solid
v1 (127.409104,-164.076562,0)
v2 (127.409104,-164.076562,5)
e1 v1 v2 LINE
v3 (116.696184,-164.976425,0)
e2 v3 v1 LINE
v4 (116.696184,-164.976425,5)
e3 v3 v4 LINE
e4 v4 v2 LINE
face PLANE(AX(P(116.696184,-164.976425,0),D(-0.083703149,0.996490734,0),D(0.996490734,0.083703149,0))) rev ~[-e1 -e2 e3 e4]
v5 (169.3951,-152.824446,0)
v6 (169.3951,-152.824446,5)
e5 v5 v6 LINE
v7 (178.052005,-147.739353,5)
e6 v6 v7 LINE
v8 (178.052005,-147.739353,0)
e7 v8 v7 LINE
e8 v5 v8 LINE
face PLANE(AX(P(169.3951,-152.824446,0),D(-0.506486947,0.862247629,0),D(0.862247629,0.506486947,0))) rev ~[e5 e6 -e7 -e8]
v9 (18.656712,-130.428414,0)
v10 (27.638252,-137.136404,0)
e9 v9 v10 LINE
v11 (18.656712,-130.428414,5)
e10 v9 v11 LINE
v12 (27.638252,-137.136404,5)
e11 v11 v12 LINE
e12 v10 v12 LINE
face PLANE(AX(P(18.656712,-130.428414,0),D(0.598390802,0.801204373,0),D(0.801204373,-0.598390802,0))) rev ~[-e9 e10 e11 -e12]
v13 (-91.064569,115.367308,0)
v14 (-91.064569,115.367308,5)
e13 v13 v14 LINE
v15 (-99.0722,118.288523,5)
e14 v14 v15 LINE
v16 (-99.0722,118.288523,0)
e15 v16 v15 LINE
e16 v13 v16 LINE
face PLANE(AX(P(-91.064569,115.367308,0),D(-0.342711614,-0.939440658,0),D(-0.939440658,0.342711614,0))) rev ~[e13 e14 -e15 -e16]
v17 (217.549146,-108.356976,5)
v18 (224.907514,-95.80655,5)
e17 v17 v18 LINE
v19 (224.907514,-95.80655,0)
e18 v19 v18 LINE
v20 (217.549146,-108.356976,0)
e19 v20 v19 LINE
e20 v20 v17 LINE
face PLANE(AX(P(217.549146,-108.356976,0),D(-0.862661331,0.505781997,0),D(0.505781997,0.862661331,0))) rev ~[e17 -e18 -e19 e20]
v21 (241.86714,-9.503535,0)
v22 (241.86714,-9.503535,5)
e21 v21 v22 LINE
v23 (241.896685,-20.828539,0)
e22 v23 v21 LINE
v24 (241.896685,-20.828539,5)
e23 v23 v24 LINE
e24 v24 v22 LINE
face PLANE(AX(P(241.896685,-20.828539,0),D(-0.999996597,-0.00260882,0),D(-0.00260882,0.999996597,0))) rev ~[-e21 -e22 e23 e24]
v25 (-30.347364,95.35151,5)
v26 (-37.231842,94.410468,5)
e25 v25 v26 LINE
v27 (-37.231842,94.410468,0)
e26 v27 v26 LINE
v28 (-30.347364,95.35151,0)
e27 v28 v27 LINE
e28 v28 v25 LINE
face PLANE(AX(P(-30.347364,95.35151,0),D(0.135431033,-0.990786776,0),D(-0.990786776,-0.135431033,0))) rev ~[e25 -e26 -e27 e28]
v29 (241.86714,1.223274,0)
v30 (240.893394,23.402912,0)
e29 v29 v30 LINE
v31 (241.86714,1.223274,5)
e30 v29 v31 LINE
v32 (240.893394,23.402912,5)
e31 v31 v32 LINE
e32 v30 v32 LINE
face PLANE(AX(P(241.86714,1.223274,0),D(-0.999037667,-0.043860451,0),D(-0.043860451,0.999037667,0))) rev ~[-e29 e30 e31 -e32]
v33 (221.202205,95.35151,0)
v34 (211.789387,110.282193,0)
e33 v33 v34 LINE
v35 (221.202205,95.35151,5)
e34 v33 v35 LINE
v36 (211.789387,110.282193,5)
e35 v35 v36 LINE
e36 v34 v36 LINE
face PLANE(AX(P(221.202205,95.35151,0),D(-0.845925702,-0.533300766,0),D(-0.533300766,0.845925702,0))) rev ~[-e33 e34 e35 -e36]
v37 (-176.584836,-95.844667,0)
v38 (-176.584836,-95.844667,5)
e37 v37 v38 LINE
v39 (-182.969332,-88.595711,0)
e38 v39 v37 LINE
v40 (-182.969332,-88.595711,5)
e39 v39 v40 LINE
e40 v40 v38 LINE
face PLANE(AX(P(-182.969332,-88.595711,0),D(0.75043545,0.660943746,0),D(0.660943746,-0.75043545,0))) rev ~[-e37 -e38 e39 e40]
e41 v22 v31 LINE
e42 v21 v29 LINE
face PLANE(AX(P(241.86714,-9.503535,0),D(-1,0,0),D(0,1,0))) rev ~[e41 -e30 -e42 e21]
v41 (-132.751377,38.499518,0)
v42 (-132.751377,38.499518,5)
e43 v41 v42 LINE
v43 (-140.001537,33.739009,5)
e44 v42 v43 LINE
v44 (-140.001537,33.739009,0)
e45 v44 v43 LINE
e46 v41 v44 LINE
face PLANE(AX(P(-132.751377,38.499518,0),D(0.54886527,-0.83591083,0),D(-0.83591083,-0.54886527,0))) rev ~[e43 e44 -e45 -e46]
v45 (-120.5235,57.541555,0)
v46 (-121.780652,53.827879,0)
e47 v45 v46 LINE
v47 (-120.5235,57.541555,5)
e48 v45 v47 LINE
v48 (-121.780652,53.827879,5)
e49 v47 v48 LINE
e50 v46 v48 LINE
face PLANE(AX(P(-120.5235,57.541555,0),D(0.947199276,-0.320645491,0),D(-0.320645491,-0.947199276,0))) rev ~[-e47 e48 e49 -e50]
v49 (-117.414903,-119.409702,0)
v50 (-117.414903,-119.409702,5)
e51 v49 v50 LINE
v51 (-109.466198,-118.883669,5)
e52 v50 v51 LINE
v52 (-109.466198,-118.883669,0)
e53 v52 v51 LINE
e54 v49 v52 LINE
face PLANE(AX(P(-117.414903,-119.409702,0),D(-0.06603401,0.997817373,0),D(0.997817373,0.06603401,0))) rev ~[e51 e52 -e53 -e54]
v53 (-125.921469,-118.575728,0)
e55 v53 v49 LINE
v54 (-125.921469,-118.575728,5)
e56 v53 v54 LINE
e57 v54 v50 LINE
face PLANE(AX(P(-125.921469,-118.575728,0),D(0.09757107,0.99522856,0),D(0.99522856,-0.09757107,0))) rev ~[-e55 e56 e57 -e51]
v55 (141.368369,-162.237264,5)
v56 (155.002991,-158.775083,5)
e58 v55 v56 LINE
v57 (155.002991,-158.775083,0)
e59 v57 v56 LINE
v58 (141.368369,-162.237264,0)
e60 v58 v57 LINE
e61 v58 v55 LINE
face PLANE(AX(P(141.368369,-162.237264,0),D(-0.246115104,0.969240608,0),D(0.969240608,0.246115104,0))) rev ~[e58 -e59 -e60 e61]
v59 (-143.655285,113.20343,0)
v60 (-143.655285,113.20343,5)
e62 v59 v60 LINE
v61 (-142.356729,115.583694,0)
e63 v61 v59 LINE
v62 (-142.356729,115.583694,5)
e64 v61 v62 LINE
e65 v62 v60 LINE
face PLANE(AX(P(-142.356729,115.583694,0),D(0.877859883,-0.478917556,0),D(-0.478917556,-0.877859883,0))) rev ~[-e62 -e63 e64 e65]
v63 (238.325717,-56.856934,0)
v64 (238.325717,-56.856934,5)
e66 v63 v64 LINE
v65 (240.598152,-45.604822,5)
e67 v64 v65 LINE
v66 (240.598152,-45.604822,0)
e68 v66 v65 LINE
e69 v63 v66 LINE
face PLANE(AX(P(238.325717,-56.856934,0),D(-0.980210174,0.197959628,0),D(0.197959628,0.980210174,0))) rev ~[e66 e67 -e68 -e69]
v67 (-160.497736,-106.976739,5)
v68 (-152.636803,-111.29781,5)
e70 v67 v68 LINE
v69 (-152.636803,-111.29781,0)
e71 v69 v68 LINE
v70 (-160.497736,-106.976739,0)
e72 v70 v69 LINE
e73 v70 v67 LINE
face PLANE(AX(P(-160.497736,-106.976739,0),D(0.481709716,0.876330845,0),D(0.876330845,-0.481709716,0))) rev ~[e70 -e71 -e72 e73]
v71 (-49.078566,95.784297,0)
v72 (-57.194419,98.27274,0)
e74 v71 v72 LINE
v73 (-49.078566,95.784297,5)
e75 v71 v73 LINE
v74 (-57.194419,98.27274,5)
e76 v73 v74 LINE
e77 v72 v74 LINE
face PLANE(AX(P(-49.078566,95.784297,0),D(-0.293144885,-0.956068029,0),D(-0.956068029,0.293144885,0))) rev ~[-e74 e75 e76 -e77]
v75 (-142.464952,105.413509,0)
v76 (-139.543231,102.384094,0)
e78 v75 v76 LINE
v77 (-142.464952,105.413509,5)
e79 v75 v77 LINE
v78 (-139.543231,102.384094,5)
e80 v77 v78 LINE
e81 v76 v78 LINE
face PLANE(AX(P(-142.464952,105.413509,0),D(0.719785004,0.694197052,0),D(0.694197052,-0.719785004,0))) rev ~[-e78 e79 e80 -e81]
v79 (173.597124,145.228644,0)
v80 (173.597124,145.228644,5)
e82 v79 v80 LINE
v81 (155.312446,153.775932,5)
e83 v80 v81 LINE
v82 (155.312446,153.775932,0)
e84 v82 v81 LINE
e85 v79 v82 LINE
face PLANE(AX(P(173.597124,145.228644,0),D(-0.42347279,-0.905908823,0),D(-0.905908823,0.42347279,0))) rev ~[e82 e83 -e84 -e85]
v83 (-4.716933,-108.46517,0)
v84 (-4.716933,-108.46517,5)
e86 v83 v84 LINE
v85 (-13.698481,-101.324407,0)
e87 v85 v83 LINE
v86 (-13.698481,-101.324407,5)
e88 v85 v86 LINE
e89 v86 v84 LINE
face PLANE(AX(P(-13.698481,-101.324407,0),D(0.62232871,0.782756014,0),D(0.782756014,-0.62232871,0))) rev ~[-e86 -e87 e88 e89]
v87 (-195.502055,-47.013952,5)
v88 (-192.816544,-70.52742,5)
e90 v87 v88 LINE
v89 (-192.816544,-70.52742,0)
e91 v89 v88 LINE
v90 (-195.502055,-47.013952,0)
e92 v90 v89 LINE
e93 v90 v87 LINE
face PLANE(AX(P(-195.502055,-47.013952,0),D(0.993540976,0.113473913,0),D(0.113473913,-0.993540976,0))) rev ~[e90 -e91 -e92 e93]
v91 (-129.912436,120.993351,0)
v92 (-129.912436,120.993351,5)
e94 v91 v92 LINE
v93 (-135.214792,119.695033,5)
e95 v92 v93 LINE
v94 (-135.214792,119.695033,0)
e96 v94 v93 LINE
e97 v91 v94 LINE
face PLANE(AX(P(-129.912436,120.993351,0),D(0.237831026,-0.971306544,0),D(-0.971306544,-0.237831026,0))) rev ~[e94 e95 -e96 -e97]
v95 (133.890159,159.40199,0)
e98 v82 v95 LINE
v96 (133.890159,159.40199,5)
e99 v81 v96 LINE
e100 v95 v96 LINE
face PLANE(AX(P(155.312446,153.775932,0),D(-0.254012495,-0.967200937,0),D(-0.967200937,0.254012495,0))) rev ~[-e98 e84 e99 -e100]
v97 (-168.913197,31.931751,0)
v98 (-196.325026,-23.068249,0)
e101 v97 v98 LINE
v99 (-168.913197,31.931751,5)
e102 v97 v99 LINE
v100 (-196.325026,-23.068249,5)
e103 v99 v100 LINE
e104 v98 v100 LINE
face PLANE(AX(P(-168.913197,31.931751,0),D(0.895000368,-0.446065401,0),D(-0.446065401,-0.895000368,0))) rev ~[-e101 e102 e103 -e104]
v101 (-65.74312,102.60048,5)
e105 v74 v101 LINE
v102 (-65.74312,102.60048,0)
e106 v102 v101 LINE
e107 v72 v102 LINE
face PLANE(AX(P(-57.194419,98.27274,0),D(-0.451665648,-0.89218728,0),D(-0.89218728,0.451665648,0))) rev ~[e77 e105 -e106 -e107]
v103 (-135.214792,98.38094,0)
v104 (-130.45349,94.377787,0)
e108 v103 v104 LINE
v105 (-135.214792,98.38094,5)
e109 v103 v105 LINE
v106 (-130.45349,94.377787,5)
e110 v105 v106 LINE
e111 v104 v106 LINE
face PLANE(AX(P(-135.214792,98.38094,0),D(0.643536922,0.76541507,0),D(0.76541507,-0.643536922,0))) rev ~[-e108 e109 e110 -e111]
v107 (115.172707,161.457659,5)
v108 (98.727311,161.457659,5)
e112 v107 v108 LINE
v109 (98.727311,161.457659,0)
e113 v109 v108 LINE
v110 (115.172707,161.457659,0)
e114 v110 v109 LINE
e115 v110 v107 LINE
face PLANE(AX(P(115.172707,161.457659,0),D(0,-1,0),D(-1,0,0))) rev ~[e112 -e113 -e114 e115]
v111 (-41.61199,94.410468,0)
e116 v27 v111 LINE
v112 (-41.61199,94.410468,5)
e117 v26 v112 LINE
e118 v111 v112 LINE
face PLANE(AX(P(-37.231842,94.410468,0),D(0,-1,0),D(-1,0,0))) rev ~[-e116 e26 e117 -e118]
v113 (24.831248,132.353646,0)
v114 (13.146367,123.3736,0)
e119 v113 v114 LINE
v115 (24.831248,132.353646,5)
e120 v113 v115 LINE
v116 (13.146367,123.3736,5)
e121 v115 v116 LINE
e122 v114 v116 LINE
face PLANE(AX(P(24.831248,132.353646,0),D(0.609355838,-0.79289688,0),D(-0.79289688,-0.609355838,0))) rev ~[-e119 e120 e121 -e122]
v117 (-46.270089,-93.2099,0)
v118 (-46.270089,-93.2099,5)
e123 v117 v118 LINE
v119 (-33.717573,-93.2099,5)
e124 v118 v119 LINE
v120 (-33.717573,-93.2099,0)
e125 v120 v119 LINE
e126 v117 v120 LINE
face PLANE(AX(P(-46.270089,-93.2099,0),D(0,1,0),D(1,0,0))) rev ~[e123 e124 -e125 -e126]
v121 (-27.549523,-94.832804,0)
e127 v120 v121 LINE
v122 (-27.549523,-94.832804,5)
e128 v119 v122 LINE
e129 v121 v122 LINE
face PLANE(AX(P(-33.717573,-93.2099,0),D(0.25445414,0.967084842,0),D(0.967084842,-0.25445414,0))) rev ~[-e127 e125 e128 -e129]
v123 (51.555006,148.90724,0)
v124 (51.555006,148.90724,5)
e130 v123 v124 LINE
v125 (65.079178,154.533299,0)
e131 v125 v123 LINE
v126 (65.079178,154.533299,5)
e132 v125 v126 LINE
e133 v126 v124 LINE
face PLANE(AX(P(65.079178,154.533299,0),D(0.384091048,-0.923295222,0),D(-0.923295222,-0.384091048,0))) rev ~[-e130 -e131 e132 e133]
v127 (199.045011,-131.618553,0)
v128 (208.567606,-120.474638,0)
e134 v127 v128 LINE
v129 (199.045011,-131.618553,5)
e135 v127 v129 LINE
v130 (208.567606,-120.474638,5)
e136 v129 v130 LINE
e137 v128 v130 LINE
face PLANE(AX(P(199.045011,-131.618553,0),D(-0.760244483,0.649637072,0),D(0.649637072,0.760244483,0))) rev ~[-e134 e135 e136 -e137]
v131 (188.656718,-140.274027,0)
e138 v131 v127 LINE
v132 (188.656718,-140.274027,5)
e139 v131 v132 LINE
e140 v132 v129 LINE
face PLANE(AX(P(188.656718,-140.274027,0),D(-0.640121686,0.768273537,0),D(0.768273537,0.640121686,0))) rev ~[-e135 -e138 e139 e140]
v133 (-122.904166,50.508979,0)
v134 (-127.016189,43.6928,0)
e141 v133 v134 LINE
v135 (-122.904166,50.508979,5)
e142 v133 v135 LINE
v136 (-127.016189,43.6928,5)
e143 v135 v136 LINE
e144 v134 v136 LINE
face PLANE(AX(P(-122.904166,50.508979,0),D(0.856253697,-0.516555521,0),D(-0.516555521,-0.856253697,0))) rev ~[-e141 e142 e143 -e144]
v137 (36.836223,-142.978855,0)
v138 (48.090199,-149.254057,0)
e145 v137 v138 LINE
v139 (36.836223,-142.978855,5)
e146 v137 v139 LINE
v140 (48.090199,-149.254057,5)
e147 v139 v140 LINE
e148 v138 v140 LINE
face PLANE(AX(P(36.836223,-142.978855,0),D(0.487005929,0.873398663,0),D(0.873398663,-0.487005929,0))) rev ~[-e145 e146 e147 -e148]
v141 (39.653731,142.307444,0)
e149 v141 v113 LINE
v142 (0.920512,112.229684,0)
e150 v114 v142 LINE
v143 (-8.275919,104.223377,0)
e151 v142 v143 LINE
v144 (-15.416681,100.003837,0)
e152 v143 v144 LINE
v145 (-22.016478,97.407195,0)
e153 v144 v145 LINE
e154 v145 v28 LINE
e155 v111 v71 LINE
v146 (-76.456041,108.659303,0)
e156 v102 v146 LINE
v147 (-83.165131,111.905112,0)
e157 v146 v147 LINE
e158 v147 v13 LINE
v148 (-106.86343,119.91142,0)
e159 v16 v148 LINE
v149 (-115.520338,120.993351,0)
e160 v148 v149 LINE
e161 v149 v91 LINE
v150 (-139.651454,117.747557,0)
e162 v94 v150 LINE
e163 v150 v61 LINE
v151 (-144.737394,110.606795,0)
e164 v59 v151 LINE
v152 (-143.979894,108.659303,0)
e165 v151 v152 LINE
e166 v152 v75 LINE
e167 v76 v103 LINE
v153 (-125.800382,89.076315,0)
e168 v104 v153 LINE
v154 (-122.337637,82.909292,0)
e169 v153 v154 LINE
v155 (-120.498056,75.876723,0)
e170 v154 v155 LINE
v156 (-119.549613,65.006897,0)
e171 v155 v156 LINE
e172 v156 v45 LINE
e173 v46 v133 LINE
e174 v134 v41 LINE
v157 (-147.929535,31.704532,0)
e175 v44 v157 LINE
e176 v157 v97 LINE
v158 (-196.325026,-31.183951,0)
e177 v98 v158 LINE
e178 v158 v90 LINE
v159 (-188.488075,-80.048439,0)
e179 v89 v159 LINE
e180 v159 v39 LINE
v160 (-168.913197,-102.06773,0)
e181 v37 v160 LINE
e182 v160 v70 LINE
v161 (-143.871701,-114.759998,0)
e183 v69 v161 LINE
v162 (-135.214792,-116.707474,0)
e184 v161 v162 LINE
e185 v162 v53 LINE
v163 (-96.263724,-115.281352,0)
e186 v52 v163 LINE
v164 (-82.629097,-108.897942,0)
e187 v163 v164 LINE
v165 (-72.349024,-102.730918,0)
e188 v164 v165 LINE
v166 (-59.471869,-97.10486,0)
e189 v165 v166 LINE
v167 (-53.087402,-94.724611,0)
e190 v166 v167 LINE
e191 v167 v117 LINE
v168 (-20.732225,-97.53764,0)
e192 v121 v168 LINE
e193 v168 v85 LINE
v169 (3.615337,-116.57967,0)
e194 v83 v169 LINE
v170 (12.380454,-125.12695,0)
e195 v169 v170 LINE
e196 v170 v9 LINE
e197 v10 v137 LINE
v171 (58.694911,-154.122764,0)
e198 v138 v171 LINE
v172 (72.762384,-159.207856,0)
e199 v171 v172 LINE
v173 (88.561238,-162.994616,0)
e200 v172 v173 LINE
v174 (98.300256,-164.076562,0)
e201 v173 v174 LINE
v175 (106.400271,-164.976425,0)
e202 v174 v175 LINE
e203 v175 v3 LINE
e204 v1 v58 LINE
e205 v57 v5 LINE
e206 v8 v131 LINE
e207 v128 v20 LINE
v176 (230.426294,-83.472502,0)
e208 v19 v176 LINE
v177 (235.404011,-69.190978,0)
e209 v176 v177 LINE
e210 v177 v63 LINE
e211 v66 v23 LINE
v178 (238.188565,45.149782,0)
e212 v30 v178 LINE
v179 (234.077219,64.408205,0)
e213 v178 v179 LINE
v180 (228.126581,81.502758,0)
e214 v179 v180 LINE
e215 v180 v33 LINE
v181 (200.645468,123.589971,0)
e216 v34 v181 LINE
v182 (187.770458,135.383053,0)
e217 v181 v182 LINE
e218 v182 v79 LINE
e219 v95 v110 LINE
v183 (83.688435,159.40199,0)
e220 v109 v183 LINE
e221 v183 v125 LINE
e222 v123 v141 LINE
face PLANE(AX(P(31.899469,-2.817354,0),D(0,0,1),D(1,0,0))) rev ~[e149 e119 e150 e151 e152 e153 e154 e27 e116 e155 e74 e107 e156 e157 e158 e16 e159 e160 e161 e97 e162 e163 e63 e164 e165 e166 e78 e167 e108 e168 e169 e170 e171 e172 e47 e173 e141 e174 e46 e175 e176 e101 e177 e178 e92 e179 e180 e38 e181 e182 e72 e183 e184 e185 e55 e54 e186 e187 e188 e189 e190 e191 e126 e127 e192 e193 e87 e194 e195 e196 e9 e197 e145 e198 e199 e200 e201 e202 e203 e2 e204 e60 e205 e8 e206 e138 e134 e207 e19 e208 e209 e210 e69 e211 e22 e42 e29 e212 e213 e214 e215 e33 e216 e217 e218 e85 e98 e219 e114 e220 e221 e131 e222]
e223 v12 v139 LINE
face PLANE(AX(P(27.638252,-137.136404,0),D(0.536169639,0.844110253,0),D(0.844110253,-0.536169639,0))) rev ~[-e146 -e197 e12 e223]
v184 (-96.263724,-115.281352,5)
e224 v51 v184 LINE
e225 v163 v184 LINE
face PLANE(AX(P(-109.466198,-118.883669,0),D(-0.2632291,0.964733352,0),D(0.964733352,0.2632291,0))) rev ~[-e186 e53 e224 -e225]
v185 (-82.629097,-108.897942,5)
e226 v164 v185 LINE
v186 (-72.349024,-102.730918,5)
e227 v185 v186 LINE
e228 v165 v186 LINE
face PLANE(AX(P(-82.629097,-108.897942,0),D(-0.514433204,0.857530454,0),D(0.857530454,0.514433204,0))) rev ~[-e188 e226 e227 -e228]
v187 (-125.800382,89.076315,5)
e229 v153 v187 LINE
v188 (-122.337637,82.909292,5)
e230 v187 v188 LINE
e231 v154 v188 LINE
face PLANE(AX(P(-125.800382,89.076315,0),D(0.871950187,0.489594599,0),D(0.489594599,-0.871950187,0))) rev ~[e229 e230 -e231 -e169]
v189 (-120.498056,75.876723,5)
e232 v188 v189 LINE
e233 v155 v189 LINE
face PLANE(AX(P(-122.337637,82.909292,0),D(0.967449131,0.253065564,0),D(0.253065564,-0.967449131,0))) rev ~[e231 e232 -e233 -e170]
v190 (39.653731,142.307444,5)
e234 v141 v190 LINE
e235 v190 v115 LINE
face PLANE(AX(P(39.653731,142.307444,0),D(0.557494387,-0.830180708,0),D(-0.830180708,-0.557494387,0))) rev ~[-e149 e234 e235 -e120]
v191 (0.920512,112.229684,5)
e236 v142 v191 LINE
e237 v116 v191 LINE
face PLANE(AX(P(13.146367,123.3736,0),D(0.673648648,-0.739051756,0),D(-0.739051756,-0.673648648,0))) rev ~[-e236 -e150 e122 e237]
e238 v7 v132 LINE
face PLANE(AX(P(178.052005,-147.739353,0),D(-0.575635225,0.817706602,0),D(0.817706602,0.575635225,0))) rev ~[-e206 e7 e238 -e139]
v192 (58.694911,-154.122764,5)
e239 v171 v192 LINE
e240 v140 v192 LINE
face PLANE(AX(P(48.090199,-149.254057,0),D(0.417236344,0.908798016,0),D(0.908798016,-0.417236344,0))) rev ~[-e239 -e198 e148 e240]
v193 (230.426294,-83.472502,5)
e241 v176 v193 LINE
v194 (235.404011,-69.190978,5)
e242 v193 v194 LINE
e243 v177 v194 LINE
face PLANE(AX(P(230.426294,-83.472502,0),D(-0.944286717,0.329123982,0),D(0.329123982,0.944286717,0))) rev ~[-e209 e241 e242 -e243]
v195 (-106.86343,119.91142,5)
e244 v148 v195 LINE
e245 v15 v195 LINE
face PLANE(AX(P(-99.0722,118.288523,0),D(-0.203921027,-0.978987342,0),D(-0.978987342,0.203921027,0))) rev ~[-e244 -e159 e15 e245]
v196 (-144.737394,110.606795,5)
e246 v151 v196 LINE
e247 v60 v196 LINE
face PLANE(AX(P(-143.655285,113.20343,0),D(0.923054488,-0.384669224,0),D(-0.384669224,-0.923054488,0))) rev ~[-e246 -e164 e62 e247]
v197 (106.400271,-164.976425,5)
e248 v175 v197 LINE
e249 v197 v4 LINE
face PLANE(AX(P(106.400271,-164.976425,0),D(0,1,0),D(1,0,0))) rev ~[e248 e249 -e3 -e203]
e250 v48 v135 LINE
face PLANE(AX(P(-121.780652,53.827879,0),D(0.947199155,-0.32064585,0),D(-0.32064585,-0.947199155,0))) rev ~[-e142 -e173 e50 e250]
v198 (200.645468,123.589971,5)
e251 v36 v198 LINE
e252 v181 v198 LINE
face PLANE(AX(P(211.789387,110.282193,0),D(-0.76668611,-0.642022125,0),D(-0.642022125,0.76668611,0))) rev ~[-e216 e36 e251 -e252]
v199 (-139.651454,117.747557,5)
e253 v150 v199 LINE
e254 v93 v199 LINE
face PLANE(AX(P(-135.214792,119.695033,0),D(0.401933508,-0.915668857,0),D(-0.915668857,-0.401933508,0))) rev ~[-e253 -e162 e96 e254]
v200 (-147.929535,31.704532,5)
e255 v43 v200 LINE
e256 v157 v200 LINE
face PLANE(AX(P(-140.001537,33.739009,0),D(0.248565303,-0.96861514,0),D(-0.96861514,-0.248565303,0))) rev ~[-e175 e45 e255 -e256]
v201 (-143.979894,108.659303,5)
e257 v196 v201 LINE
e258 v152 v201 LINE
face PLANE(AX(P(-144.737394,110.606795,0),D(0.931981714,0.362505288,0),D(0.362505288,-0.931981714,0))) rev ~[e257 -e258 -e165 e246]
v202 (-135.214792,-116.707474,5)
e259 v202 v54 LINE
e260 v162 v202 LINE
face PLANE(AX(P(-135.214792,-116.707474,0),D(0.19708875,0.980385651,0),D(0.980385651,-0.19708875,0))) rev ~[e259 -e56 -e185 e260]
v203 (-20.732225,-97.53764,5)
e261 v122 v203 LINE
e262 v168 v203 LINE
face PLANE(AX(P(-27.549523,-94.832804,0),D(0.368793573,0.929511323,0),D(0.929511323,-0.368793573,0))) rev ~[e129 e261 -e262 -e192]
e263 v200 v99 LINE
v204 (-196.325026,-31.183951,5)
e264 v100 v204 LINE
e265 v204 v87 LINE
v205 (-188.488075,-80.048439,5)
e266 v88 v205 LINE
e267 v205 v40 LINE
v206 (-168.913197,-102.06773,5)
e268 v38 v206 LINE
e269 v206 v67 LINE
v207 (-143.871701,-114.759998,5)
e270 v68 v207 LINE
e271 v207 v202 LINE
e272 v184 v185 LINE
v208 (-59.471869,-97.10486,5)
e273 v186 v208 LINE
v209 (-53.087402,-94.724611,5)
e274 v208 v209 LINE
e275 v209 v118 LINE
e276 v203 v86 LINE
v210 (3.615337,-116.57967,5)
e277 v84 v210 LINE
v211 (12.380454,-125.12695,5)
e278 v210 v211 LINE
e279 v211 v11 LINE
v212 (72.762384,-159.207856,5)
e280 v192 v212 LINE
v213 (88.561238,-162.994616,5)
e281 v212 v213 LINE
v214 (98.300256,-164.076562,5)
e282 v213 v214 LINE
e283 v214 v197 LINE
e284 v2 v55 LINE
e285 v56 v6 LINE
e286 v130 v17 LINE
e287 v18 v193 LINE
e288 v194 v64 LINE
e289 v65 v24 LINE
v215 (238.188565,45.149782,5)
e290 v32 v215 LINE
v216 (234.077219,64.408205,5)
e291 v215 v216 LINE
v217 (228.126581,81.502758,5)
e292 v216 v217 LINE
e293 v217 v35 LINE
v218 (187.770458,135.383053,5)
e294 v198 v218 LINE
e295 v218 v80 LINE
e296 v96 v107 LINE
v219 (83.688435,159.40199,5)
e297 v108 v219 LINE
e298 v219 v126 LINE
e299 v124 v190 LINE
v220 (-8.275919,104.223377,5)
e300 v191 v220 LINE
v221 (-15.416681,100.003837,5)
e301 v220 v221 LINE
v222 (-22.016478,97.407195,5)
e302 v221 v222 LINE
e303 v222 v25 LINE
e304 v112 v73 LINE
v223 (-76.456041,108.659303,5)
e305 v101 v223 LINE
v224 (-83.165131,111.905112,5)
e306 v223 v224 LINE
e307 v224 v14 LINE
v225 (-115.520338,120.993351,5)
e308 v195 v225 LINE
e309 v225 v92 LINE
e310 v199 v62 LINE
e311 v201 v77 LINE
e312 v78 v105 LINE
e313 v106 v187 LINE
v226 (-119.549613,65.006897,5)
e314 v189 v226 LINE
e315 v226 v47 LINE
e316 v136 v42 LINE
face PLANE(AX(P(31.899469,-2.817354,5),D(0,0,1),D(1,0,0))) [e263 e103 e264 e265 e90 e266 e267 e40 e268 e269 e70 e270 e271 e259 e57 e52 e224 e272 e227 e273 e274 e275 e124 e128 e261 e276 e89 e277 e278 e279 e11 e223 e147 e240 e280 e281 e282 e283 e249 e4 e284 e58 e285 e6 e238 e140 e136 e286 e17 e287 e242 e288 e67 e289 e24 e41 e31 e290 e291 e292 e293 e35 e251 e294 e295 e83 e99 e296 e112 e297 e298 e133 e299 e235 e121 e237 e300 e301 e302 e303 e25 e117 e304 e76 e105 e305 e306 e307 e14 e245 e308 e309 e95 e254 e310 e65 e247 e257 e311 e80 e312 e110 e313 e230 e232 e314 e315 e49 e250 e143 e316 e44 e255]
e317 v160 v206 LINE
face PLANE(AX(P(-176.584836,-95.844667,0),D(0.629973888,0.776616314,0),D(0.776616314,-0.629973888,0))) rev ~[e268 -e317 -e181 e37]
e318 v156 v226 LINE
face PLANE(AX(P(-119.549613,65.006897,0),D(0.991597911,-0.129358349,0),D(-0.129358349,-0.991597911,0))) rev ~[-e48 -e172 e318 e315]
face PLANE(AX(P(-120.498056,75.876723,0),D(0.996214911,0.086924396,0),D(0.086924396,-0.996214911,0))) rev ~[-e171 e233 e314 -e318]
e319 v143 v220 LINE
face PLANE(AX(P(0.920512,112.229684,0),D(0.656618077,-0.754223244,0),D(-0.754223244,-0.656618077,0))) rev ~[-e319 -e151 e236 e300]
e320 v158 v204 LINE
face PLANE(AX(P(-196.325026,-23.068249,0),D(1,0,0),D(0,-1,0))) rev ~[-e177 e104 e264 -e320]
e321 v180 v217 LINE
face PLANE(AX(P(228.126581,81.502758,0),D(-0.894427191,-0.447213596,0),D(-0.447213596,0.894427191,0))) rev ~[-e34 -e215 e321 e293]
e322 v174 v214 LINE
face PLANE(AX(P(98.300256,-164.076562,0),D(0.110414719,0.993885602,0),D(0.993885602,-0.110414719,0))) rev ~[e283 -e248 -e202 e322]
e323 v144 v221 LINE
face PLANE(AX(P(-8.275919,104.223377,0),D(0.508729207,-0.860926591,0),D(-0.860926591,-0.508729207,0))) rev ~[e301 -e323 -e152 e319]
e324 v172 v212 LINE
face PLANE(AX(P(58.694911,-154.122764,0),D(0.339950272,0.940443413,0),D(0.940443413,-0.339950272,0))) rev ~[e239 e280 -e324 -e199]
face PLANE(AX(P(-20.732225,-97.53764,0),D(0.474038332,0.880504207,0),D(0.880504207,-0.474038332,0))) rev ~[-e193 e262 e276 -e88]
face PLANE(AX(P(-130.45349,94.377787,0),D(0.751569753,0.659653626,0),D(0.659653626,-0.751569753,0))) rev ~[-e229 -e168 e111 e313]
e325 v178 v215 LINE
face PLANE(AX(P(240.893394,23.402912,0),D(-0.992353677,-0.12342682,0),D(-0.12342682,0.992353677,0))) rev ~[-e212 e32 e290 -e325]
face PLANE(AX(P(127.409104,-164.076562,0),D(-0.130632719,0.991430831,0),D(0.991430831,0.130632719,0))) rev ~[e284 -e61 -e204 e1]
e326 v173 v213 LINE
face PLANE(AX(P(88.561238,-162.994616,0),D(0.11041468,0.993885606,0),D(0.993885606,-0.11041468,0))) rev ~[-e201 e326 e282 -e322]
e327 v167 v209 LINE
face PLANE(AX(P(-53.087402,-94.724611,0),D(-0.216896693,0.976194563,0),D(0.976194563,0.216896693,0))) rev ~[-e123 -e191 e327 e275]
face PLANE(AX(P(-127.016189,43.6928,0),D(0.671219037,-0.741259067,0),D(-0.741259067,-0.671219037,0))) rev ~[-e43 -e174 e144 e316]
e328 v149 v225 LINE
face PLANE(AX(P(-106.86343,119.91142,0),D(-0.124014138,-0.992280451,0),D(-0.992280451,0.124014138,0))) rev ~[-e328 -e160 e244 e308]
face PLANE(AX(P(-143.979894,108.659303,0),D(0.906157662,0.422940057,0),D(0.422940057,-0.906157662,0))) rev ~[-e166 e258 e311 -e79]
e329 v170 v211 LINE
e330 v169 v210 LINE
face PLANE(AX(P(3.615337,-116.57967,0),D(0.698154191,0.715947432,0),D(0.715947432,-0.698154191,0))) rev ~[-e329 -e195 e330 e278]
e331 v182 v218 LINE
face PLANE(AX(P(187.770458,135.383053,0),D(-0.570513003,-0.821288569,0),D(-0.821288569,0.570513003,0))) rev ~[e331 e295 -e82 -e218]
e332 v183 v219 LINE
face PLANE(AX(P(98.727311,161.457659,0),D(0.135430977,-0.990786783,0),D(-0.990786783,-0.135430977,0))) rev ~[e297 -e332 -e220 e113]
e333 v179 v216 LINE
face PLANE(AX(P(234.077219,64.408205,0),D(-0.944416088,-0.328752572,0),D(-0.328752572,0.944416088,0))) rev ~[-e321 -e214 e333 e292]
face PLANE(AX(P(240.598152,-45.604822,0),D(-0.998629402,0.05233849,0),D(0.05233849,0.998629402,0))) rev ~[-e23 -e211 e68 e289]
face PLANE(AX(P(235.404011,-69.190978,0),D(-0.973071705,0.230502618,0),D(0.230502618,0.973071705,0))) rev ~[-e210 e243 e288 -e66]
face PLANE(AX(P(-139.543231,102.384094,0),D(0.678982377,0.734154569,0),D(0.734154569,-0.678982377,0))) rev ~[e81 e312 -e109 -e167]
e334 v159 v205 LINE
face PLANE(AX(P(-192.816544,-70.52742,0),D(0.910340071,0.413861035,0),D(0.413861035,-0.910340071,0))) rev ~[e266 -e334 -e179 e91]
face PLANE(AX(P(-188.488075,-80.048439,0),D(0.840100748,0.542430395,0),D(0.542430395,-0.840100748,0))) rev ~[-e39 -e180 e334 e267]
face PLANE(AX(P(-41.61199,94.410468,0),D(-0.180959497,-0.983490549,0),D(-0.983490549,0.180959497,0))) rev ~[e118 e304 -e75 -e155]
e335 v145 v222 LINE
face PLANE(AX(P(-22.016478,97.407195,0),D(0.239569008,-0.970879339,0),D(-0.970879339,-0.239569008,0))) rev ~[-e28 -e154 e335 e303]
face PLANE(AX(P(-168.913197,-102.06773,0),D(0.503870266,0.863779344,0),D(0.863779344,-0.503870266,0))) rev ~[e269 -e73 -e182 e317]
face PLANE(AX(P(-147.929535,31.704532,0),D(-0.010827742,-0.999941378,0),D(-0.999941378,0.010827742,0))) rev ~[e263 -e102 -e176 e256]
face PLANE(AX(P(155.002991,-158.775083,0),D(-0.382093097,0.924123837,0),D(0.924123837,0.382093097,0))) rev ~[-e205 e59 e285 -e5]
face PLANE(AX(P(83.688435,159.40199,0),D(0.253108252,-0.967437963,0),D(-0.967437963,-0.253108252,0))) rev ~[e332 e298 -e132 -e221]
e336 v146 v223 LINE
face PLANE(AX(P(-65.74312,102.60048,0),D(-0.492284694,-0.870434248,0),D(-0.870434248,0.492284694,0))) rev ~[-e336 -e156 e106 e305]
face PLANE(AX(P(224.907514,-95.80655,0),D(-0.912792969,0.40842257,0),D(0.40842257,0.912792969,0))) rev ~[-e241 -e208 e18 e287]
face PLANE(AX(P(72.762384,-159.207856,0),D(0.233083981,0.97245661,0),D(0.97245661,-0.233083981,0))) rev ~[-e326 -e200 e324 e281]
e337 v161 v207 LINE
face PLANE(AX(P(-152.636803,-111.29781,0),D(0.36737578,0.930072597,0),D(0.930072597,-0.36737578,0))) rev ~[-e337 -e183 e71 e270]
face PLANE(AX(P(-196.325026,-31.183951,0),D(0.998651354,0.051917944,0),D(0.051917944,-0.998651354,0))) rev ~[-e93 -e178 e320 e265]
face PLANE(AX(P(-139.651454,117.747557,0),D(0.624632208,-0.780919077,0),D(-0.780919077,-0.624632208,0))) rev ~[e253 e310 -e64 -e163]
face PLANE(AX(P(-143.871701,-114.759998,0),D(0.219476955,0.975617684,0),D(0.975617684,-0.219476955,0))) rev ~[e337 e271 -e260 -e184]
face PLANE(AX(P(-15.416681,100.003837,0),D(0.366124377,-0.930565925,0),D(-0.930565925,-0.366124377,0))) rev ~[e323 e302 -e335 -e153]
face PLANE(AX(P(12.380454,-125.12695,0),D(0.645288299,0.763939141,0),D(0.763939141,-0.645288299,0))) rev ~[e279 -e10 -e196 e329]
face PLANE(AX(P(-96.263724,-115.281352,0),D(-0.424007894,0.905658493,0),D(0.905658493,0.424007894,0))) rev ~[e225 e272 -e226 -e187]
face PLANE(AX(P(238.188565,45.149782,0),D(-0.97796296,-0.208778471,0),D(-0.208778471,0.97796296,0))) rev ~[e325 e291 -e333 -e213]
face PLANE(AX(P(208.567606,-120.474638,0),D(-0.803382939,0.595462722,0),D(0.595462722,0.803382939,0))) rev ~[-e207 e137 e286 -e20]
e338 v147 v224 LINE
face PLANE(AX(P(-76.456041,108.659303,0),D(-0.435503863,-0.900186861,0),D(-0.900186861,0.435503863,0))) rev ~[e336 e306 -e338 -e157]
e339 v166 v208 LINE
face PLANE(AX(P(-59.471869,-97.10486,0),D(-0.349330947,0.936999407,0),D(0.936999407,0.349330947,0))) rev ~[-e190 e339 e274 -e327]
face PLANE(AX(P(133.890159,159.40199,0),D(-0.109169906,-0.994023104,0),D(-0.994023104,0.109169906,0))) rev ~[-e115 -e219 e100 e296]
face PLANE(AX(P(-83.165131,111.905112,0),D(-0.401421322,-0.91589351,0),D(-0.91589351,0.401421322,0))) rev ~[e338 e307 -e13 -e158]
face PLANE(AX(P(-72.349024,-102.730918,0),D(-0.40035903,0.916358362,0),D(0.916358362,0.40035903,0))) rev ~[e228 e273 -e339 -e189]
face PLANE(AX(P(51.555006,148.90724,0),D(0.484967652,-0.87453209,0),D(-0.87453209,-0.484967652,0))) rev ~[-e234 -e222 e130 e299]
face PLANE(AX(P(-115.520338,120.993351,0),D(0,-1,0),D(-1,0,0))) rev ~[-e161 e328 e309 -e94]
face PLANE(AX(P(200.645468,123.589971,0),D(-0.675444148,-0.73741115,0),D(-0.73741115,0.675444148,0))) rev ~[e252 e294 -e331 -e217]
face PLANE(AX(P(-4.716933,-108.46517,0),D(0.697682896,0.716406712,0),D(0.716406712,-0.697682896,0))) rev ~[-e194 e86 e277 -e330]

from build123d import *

# Parameters (mm, degrees)
F0_W     = 37
F0_H     = 69
F1_DEPTH = 5


with BuildPart() as f1:
    # F0 (on Top) → F1 (new body)
    with BuildSketch(Plane.XY):
        Polygon((109.757393, -47.013952), (-190.469548, -47.013952), (-187.938355, -69.176264), (-184.088363, -77.644812), (-178.970914, -85.570573), (-173.10958, -92.22553), (-166.061834, -97.942505), (-158.033386, -102.625757), (-150.505585, -106.763709), (-142.395731, -109.967075), (-134.17314, -111.816847), (-125.182951, -113.624161), (-117.335529, -114.393513), (-110.297666, -113.927758), (-97.994511, -110.570822), (-84.98137, -104.478377), (-74.645462, -98.277857), (-61.347514, -92.467954), (-54.509754, -89.918709), (-46.818863, -88.209901), (-39.777415, -88.209901), (-33.070793, -88.209901), (-25.985741, -90.074082), (-18.618021, -92.997303), (-10.935776, -97.133205), (-1.40856, -104.7078), (7.10493, -112.998784), (15.743346, -121.422512), (21.768701, -126.512042), (30.47871, -133.017234), (39.396258, -138.681565), (50.354269, -144.791737), (60.591184, -149.491585), (74.199441, -154.41068), (89.423326, -158.059629), (98.85233, -159.107134), (106.677154, -159.976425), (116.486558, -159.976425), (126.872966, -159.103989), (140.423232, -157.318581), (153.42437, -154.017258), (167.162878, -148.336862), (175.342116, -143.532352), (185.6123, -136.302521), (195.518968, -128.048335), (204.653845, -117.358152), (213.371967, -105.595887), (220.455531, -93.514166), (225.775129, -81.625274), (230.597933, -67.78821), (233.441157, -55.785481), (235.624263, -44.975688), (236.896344, -20.704121), (236.86714, -9.510057), (236.86714, 1.11357), (235.906968, 22.984027), (233.25353, 44.31771), (229.252552, 63.059144), (223.510394, 79.554792), (216.840677, 92.894226), (207.739533, 107.33053), (197.024369, 120.1263), (184.641449, 131.468644), (171.094149, 140.879356), (153.60487, 149.05483), (132.97725, 154.472187), (114.898965, 156.457659), (99.067456, 156.457659), (84.663291, 154.488749), (66.679821, 149.783781), (53.734493, 144.398522), (42.264603, 138.037948), (27.751352, 128.291809), (16.359527, 119.536983), (4.246612, 108.496011), (-5.338126, 100.151649), (-13.215689, 95.496727), (-20.495536, 92.632523), (-29.407222, 90.433524), (-36.891697, 89.410468), (-42.068154, 89.410468), (-50.267792, 90.919179), (-59.070143, 93.618111), (-68.10425, 98.191586), (-78.777898, 104.228198), (-85.258181, 107.363312), (-92.926764, 110.724328), (-100.445934, 113.46735), (-107.684615, 114.975152), (-115.831575, 115.993351), (-123.636163, 115.993351), (-129.309204, 115.993351), (-133.603284, 114.941916), (-137.040821, 113.433007), (-138.448742, 112.306855), (-139.140668, 111.03855), (-139.344401, 110.549672), (-138.28696, 108.284083), (-136.043459, 105.957887), (-131.906646, 102.131959), (-126.94568, 97.960933), (-121.69705, 91.98096), (-117.6631, 84.796643), (-115.553754, 76.732782), (-114.52125, 64.899556), (-115.629325, 56.405594), (-116.508421, 53.80871), (109.757393, 52.986048), align=None)
        Polygon((241.896685, -20.828539), (241.86714, -9.503535), (241.86714, 1.223274), (240.893394, 23.402912), (238.188565, 45.149782), (234.077219, 64.408205), (228.126581, 81.502758), (221.202205, 95.35151), (211.789387, 110.282193), (200.645468, 123.589971), (187.770458, 135.383053), (173.597124, 145.228644), (155.312446, 153.775932), (133.890159, 159.40199), (115.172707, 161.457659), (98.727311, 161.457659), (83.688435, 159.40199), (65.079178, 154.533299), (51.555006, 148.90724), (39.653731, 142.307444), (24.831248, 132.353646), (13.146367, 123.3736), (0.920512, 112.229684), (-8.275919, 104.223377), (-15.416681, 100.003837), (-22.016478, 97.407195), (-30.347364, 95.35151), (-37.231842, 94.410468), (-41.61199, 94.410468), (-49.078566, 95.784297), (-57.194419, 98.27274), (-65.74312, 102.60048), (-76.456041, 108.659303), (-83.165131, 111.905112), (-91.064569, 115.367308), (-99.0722, 118.288523), (-106.86343, 119.91142), (-115.520338, 120.993351), (-123.636163, 120.993351), (-129.912436, 120.993351), (-135.214792, 119.695033), (-139.651454, 117.747557), (-142.356729, 115.583694), (-143.655285, 113.20343), (-144.737394, 110.606795), (-143.979894, 108.659303), (-142.464952, 105.413509), (-139.543231, 102.384094), (-135.214792, 98.38094), (-130.45349, 94.377787), (-125.800382, 89.076315), (-122.337637, 82.909292), (-120.498056, 75.876723), (-119.549613, 65.006897), (-120.5235, 57.541555), (-121.780652, 53.827879), (-116.508421, 53.80871), (-115.629325, 56.405594), (-114.52125, 64.899556), (-115.553754, 76.732782), (-117.6631, 84.796643), (-121.69705, 91.98096), (-126.94568, 97.960933), (-131.906646, 102.131959), (-136.043459, 105.957887), (-138.28696, 108.284083), (-139.344401, 110.549672), (-139.140668, 111.03855), (-138.448742, 112.306855), (-137.040821, 113.433007), (-133.603284, 114.941916), (-129.309204, 115.993351), (-123.636163, 115.993351), (-115.831575, 115.993351), (-107.684615, 114.975152), (-100.445934, 113.46735), (-92.926764, 110.724328), (-85.258181, 107.363312), (-78.777898, 104.228198), (-68.10425, 98.191586), (-59.070143, 93.618111), (-50.267792, 90.919179), (-42.068154, 89.410468), (-36.891697, 89.410468), (-29.407222, 90.433524), (-20.495536, 92.632523), (-13.215689, 95.496727), (-5.338126, 100.151649), (4.246612, 108.496011), (16.359527, 119.536983), (27.751352, 128.291809), (42.264603, 138.037948), (53.734493, 144.398522), (66.679821, 149.783781), (84.663291, 154.488749), (99.067456, 156.457659), (114.898965, 156.457659), (132.97725, 154.472187), (153.60487, 149.05483), (171.094149, 140.879356), (184.641449, 131.468644), (197.024369, 120.1263), (207.739533, 107.33053), (216.840677, 92.894226), (223.510394, 79.554792), (229.252552, 63.059144), (233.25353, 44.31771), (235.906968, 22.984027), (236.86714, 1.11357), (236.86714, -9.510057), (236.896344, -20.704121), (235.624263, -44.975688), (233.441157, -55.785481), (230.597933, -67.78821), (225.775129, -81.625274), (220.455531, -93.514166), (213.371967, -105.595887), (204.653845, -117.358152), (195.518968, -128.048335), (185.6123, -136.302521), (175.342116, -143.532352), (167.162878, -148.336862), (153.42437, -154.017258), (140.423232, -157.318581), (126.872966, -159.103989), (116.486558, -159.976425), (106.677154, -159.976425), (98.85233, -159.107134), (89.423326, -158.059629), (74.199441, -154.41068), (60.591184, -149.491585), (50.354269, -144.791737), (39.396258, -138.681565), (30.47871, -133.017234), (21.768701, -126.512042), (15.743346, -121.422512), (7.10493, -112.998784), (-1.40856, -104.7078), (-10.935776, -97.133205), (-18.618021, -92.997303), (-25.985741, -90.074082), (-33.070793, -88.209901), (-39.777415, -88.209901), (-46.818863, -88.209901), (-54.509754, -89.918709), (-61.347514, -92.467954), (-74.645462, -98.277857), (-84.98137, -104.478377), (-97.994511, -110.570822), (-110.297666, -113.927758), (-117.335529, -114.393513), (-125.182951, -113.624161), (-134.17314, -111.816847), (-142.395731, -109.967075), (-150.505585, -106.763709), (-158.033386, -102.625757), (-166.061834, -97.942505), (-173.10958, -92.22553), (-178.970914, -85.570573), (-184.088363, -77.644812), (-187.938355, -69.176264), (-190.469548, -47.013952), (-195.502055, -47.013952), (-192.816544, -70.52742), (-188.488075, -80.048439), (-182.969332, -88.595711), (-176.584836, -95.844667), (-168.913197, -102.06773), (-160.497736, -106.976739), (-152.636803, -111.29781), (-143.871701, -114.759998), (-135.214792, -116.707474), (-125.921469, -118.575728), (-117.414903, -119.409702), (-109.466198, -118.883669), (-96.263724, -115.281352), (-82.629097, -108.897942), (-72.349024, -102.730918), (-59.471869, -97.10486), (-53.087402, -94.724611), (-46.270089, -93.2099), (-39.777415, -93.2099), (-33.717573, -93.2099), (-27.549523, -94.832804), (-20.732225, -97.53764), (-13.698481, -101.324407), (-4.716933, -108.46517), (3.615337, -116.57967), (12.380454, -125.12695), (18.656712, -130.428414), (27.638252, -137.136404), (36.836223, -142.978855), (48.090199, -149.254057), (58.694911, -154.122764), (72.762384, -159.207856), (88.561238, -162.994616), (98.300256, -164.076562), (106.400271, -164.976425), (116.696184, -164.976425), (127.409104, -164.076562), (141.368369, -162.237264), (155.002991, -158.775083), (169.3951, -152.824446), (178.052005, -147.739353), (188.656718, -140.274027), (199.045011, -131.618553), (208.567606, -120.474638), (217.549146, -108.356976), (224.907514, -95.80655), (230.426294, -83.472502), (235.404011, -69.190978), (238.325717, -56.856934), (240.598152, -45.604822), align=None)
        Polygon((-116.508421, 53.80871), (-121.780652, 53.827879), (-122.904166, 50.508979), (-127.016189, 43.6928), (-132.751377, 38.499518), (-140.001537, 33.739009), (-147.929535, 31.704532), (-134.216449, 31.556042), (-129.682809, 34.532863), (-123.114868, 40.480213), (-118.342329, 48.391277), (-117.044656, 52.224651), align=None)
        Polygon((-196.325026, -31.183951), (-195.502055, -47.013952), (-190.469548, -47.013952), (109.757393, -47.013952), (109.757393, 52.986048), (-116.508421, 53.80871), (-117.044656, 52.224651), (-118.342329, 48.391277), (-123.114868, 40.480213), (-129.682809, 34.532863), (-134.216449, 31.556042), (-113.145601, 31.327879), (-113.742607, -23.805663), (-196.325026, -23.068249), align=None)
        with Locations((-86.742607, 3.827879)):
            Rectangle(F0_W, F0_H, mode=Mode.SUBTRACT)
        with Locations((16.257393, 3.827879)):
            Rectangle(F0_W, F0_H, mode=Mode.SUBTRACT)
        Polygon((-168.913197, 31.931751), (-196.325026, -23.068249), (-113.742607, -23.805663), (-113.145601, 31.327879), (-134.216449, 31.556042), (-147.929535, 31.704532), align=None)
        with Locations((-86.742607, 3.827879)):
            Rectangle(F0_W, F0_H)
        with Locations((16.257393, 3.827879)):
            Rectangle(F0_W, F0_H)
    extrude(amount=F1_DEPTH)


solid = f1.part
